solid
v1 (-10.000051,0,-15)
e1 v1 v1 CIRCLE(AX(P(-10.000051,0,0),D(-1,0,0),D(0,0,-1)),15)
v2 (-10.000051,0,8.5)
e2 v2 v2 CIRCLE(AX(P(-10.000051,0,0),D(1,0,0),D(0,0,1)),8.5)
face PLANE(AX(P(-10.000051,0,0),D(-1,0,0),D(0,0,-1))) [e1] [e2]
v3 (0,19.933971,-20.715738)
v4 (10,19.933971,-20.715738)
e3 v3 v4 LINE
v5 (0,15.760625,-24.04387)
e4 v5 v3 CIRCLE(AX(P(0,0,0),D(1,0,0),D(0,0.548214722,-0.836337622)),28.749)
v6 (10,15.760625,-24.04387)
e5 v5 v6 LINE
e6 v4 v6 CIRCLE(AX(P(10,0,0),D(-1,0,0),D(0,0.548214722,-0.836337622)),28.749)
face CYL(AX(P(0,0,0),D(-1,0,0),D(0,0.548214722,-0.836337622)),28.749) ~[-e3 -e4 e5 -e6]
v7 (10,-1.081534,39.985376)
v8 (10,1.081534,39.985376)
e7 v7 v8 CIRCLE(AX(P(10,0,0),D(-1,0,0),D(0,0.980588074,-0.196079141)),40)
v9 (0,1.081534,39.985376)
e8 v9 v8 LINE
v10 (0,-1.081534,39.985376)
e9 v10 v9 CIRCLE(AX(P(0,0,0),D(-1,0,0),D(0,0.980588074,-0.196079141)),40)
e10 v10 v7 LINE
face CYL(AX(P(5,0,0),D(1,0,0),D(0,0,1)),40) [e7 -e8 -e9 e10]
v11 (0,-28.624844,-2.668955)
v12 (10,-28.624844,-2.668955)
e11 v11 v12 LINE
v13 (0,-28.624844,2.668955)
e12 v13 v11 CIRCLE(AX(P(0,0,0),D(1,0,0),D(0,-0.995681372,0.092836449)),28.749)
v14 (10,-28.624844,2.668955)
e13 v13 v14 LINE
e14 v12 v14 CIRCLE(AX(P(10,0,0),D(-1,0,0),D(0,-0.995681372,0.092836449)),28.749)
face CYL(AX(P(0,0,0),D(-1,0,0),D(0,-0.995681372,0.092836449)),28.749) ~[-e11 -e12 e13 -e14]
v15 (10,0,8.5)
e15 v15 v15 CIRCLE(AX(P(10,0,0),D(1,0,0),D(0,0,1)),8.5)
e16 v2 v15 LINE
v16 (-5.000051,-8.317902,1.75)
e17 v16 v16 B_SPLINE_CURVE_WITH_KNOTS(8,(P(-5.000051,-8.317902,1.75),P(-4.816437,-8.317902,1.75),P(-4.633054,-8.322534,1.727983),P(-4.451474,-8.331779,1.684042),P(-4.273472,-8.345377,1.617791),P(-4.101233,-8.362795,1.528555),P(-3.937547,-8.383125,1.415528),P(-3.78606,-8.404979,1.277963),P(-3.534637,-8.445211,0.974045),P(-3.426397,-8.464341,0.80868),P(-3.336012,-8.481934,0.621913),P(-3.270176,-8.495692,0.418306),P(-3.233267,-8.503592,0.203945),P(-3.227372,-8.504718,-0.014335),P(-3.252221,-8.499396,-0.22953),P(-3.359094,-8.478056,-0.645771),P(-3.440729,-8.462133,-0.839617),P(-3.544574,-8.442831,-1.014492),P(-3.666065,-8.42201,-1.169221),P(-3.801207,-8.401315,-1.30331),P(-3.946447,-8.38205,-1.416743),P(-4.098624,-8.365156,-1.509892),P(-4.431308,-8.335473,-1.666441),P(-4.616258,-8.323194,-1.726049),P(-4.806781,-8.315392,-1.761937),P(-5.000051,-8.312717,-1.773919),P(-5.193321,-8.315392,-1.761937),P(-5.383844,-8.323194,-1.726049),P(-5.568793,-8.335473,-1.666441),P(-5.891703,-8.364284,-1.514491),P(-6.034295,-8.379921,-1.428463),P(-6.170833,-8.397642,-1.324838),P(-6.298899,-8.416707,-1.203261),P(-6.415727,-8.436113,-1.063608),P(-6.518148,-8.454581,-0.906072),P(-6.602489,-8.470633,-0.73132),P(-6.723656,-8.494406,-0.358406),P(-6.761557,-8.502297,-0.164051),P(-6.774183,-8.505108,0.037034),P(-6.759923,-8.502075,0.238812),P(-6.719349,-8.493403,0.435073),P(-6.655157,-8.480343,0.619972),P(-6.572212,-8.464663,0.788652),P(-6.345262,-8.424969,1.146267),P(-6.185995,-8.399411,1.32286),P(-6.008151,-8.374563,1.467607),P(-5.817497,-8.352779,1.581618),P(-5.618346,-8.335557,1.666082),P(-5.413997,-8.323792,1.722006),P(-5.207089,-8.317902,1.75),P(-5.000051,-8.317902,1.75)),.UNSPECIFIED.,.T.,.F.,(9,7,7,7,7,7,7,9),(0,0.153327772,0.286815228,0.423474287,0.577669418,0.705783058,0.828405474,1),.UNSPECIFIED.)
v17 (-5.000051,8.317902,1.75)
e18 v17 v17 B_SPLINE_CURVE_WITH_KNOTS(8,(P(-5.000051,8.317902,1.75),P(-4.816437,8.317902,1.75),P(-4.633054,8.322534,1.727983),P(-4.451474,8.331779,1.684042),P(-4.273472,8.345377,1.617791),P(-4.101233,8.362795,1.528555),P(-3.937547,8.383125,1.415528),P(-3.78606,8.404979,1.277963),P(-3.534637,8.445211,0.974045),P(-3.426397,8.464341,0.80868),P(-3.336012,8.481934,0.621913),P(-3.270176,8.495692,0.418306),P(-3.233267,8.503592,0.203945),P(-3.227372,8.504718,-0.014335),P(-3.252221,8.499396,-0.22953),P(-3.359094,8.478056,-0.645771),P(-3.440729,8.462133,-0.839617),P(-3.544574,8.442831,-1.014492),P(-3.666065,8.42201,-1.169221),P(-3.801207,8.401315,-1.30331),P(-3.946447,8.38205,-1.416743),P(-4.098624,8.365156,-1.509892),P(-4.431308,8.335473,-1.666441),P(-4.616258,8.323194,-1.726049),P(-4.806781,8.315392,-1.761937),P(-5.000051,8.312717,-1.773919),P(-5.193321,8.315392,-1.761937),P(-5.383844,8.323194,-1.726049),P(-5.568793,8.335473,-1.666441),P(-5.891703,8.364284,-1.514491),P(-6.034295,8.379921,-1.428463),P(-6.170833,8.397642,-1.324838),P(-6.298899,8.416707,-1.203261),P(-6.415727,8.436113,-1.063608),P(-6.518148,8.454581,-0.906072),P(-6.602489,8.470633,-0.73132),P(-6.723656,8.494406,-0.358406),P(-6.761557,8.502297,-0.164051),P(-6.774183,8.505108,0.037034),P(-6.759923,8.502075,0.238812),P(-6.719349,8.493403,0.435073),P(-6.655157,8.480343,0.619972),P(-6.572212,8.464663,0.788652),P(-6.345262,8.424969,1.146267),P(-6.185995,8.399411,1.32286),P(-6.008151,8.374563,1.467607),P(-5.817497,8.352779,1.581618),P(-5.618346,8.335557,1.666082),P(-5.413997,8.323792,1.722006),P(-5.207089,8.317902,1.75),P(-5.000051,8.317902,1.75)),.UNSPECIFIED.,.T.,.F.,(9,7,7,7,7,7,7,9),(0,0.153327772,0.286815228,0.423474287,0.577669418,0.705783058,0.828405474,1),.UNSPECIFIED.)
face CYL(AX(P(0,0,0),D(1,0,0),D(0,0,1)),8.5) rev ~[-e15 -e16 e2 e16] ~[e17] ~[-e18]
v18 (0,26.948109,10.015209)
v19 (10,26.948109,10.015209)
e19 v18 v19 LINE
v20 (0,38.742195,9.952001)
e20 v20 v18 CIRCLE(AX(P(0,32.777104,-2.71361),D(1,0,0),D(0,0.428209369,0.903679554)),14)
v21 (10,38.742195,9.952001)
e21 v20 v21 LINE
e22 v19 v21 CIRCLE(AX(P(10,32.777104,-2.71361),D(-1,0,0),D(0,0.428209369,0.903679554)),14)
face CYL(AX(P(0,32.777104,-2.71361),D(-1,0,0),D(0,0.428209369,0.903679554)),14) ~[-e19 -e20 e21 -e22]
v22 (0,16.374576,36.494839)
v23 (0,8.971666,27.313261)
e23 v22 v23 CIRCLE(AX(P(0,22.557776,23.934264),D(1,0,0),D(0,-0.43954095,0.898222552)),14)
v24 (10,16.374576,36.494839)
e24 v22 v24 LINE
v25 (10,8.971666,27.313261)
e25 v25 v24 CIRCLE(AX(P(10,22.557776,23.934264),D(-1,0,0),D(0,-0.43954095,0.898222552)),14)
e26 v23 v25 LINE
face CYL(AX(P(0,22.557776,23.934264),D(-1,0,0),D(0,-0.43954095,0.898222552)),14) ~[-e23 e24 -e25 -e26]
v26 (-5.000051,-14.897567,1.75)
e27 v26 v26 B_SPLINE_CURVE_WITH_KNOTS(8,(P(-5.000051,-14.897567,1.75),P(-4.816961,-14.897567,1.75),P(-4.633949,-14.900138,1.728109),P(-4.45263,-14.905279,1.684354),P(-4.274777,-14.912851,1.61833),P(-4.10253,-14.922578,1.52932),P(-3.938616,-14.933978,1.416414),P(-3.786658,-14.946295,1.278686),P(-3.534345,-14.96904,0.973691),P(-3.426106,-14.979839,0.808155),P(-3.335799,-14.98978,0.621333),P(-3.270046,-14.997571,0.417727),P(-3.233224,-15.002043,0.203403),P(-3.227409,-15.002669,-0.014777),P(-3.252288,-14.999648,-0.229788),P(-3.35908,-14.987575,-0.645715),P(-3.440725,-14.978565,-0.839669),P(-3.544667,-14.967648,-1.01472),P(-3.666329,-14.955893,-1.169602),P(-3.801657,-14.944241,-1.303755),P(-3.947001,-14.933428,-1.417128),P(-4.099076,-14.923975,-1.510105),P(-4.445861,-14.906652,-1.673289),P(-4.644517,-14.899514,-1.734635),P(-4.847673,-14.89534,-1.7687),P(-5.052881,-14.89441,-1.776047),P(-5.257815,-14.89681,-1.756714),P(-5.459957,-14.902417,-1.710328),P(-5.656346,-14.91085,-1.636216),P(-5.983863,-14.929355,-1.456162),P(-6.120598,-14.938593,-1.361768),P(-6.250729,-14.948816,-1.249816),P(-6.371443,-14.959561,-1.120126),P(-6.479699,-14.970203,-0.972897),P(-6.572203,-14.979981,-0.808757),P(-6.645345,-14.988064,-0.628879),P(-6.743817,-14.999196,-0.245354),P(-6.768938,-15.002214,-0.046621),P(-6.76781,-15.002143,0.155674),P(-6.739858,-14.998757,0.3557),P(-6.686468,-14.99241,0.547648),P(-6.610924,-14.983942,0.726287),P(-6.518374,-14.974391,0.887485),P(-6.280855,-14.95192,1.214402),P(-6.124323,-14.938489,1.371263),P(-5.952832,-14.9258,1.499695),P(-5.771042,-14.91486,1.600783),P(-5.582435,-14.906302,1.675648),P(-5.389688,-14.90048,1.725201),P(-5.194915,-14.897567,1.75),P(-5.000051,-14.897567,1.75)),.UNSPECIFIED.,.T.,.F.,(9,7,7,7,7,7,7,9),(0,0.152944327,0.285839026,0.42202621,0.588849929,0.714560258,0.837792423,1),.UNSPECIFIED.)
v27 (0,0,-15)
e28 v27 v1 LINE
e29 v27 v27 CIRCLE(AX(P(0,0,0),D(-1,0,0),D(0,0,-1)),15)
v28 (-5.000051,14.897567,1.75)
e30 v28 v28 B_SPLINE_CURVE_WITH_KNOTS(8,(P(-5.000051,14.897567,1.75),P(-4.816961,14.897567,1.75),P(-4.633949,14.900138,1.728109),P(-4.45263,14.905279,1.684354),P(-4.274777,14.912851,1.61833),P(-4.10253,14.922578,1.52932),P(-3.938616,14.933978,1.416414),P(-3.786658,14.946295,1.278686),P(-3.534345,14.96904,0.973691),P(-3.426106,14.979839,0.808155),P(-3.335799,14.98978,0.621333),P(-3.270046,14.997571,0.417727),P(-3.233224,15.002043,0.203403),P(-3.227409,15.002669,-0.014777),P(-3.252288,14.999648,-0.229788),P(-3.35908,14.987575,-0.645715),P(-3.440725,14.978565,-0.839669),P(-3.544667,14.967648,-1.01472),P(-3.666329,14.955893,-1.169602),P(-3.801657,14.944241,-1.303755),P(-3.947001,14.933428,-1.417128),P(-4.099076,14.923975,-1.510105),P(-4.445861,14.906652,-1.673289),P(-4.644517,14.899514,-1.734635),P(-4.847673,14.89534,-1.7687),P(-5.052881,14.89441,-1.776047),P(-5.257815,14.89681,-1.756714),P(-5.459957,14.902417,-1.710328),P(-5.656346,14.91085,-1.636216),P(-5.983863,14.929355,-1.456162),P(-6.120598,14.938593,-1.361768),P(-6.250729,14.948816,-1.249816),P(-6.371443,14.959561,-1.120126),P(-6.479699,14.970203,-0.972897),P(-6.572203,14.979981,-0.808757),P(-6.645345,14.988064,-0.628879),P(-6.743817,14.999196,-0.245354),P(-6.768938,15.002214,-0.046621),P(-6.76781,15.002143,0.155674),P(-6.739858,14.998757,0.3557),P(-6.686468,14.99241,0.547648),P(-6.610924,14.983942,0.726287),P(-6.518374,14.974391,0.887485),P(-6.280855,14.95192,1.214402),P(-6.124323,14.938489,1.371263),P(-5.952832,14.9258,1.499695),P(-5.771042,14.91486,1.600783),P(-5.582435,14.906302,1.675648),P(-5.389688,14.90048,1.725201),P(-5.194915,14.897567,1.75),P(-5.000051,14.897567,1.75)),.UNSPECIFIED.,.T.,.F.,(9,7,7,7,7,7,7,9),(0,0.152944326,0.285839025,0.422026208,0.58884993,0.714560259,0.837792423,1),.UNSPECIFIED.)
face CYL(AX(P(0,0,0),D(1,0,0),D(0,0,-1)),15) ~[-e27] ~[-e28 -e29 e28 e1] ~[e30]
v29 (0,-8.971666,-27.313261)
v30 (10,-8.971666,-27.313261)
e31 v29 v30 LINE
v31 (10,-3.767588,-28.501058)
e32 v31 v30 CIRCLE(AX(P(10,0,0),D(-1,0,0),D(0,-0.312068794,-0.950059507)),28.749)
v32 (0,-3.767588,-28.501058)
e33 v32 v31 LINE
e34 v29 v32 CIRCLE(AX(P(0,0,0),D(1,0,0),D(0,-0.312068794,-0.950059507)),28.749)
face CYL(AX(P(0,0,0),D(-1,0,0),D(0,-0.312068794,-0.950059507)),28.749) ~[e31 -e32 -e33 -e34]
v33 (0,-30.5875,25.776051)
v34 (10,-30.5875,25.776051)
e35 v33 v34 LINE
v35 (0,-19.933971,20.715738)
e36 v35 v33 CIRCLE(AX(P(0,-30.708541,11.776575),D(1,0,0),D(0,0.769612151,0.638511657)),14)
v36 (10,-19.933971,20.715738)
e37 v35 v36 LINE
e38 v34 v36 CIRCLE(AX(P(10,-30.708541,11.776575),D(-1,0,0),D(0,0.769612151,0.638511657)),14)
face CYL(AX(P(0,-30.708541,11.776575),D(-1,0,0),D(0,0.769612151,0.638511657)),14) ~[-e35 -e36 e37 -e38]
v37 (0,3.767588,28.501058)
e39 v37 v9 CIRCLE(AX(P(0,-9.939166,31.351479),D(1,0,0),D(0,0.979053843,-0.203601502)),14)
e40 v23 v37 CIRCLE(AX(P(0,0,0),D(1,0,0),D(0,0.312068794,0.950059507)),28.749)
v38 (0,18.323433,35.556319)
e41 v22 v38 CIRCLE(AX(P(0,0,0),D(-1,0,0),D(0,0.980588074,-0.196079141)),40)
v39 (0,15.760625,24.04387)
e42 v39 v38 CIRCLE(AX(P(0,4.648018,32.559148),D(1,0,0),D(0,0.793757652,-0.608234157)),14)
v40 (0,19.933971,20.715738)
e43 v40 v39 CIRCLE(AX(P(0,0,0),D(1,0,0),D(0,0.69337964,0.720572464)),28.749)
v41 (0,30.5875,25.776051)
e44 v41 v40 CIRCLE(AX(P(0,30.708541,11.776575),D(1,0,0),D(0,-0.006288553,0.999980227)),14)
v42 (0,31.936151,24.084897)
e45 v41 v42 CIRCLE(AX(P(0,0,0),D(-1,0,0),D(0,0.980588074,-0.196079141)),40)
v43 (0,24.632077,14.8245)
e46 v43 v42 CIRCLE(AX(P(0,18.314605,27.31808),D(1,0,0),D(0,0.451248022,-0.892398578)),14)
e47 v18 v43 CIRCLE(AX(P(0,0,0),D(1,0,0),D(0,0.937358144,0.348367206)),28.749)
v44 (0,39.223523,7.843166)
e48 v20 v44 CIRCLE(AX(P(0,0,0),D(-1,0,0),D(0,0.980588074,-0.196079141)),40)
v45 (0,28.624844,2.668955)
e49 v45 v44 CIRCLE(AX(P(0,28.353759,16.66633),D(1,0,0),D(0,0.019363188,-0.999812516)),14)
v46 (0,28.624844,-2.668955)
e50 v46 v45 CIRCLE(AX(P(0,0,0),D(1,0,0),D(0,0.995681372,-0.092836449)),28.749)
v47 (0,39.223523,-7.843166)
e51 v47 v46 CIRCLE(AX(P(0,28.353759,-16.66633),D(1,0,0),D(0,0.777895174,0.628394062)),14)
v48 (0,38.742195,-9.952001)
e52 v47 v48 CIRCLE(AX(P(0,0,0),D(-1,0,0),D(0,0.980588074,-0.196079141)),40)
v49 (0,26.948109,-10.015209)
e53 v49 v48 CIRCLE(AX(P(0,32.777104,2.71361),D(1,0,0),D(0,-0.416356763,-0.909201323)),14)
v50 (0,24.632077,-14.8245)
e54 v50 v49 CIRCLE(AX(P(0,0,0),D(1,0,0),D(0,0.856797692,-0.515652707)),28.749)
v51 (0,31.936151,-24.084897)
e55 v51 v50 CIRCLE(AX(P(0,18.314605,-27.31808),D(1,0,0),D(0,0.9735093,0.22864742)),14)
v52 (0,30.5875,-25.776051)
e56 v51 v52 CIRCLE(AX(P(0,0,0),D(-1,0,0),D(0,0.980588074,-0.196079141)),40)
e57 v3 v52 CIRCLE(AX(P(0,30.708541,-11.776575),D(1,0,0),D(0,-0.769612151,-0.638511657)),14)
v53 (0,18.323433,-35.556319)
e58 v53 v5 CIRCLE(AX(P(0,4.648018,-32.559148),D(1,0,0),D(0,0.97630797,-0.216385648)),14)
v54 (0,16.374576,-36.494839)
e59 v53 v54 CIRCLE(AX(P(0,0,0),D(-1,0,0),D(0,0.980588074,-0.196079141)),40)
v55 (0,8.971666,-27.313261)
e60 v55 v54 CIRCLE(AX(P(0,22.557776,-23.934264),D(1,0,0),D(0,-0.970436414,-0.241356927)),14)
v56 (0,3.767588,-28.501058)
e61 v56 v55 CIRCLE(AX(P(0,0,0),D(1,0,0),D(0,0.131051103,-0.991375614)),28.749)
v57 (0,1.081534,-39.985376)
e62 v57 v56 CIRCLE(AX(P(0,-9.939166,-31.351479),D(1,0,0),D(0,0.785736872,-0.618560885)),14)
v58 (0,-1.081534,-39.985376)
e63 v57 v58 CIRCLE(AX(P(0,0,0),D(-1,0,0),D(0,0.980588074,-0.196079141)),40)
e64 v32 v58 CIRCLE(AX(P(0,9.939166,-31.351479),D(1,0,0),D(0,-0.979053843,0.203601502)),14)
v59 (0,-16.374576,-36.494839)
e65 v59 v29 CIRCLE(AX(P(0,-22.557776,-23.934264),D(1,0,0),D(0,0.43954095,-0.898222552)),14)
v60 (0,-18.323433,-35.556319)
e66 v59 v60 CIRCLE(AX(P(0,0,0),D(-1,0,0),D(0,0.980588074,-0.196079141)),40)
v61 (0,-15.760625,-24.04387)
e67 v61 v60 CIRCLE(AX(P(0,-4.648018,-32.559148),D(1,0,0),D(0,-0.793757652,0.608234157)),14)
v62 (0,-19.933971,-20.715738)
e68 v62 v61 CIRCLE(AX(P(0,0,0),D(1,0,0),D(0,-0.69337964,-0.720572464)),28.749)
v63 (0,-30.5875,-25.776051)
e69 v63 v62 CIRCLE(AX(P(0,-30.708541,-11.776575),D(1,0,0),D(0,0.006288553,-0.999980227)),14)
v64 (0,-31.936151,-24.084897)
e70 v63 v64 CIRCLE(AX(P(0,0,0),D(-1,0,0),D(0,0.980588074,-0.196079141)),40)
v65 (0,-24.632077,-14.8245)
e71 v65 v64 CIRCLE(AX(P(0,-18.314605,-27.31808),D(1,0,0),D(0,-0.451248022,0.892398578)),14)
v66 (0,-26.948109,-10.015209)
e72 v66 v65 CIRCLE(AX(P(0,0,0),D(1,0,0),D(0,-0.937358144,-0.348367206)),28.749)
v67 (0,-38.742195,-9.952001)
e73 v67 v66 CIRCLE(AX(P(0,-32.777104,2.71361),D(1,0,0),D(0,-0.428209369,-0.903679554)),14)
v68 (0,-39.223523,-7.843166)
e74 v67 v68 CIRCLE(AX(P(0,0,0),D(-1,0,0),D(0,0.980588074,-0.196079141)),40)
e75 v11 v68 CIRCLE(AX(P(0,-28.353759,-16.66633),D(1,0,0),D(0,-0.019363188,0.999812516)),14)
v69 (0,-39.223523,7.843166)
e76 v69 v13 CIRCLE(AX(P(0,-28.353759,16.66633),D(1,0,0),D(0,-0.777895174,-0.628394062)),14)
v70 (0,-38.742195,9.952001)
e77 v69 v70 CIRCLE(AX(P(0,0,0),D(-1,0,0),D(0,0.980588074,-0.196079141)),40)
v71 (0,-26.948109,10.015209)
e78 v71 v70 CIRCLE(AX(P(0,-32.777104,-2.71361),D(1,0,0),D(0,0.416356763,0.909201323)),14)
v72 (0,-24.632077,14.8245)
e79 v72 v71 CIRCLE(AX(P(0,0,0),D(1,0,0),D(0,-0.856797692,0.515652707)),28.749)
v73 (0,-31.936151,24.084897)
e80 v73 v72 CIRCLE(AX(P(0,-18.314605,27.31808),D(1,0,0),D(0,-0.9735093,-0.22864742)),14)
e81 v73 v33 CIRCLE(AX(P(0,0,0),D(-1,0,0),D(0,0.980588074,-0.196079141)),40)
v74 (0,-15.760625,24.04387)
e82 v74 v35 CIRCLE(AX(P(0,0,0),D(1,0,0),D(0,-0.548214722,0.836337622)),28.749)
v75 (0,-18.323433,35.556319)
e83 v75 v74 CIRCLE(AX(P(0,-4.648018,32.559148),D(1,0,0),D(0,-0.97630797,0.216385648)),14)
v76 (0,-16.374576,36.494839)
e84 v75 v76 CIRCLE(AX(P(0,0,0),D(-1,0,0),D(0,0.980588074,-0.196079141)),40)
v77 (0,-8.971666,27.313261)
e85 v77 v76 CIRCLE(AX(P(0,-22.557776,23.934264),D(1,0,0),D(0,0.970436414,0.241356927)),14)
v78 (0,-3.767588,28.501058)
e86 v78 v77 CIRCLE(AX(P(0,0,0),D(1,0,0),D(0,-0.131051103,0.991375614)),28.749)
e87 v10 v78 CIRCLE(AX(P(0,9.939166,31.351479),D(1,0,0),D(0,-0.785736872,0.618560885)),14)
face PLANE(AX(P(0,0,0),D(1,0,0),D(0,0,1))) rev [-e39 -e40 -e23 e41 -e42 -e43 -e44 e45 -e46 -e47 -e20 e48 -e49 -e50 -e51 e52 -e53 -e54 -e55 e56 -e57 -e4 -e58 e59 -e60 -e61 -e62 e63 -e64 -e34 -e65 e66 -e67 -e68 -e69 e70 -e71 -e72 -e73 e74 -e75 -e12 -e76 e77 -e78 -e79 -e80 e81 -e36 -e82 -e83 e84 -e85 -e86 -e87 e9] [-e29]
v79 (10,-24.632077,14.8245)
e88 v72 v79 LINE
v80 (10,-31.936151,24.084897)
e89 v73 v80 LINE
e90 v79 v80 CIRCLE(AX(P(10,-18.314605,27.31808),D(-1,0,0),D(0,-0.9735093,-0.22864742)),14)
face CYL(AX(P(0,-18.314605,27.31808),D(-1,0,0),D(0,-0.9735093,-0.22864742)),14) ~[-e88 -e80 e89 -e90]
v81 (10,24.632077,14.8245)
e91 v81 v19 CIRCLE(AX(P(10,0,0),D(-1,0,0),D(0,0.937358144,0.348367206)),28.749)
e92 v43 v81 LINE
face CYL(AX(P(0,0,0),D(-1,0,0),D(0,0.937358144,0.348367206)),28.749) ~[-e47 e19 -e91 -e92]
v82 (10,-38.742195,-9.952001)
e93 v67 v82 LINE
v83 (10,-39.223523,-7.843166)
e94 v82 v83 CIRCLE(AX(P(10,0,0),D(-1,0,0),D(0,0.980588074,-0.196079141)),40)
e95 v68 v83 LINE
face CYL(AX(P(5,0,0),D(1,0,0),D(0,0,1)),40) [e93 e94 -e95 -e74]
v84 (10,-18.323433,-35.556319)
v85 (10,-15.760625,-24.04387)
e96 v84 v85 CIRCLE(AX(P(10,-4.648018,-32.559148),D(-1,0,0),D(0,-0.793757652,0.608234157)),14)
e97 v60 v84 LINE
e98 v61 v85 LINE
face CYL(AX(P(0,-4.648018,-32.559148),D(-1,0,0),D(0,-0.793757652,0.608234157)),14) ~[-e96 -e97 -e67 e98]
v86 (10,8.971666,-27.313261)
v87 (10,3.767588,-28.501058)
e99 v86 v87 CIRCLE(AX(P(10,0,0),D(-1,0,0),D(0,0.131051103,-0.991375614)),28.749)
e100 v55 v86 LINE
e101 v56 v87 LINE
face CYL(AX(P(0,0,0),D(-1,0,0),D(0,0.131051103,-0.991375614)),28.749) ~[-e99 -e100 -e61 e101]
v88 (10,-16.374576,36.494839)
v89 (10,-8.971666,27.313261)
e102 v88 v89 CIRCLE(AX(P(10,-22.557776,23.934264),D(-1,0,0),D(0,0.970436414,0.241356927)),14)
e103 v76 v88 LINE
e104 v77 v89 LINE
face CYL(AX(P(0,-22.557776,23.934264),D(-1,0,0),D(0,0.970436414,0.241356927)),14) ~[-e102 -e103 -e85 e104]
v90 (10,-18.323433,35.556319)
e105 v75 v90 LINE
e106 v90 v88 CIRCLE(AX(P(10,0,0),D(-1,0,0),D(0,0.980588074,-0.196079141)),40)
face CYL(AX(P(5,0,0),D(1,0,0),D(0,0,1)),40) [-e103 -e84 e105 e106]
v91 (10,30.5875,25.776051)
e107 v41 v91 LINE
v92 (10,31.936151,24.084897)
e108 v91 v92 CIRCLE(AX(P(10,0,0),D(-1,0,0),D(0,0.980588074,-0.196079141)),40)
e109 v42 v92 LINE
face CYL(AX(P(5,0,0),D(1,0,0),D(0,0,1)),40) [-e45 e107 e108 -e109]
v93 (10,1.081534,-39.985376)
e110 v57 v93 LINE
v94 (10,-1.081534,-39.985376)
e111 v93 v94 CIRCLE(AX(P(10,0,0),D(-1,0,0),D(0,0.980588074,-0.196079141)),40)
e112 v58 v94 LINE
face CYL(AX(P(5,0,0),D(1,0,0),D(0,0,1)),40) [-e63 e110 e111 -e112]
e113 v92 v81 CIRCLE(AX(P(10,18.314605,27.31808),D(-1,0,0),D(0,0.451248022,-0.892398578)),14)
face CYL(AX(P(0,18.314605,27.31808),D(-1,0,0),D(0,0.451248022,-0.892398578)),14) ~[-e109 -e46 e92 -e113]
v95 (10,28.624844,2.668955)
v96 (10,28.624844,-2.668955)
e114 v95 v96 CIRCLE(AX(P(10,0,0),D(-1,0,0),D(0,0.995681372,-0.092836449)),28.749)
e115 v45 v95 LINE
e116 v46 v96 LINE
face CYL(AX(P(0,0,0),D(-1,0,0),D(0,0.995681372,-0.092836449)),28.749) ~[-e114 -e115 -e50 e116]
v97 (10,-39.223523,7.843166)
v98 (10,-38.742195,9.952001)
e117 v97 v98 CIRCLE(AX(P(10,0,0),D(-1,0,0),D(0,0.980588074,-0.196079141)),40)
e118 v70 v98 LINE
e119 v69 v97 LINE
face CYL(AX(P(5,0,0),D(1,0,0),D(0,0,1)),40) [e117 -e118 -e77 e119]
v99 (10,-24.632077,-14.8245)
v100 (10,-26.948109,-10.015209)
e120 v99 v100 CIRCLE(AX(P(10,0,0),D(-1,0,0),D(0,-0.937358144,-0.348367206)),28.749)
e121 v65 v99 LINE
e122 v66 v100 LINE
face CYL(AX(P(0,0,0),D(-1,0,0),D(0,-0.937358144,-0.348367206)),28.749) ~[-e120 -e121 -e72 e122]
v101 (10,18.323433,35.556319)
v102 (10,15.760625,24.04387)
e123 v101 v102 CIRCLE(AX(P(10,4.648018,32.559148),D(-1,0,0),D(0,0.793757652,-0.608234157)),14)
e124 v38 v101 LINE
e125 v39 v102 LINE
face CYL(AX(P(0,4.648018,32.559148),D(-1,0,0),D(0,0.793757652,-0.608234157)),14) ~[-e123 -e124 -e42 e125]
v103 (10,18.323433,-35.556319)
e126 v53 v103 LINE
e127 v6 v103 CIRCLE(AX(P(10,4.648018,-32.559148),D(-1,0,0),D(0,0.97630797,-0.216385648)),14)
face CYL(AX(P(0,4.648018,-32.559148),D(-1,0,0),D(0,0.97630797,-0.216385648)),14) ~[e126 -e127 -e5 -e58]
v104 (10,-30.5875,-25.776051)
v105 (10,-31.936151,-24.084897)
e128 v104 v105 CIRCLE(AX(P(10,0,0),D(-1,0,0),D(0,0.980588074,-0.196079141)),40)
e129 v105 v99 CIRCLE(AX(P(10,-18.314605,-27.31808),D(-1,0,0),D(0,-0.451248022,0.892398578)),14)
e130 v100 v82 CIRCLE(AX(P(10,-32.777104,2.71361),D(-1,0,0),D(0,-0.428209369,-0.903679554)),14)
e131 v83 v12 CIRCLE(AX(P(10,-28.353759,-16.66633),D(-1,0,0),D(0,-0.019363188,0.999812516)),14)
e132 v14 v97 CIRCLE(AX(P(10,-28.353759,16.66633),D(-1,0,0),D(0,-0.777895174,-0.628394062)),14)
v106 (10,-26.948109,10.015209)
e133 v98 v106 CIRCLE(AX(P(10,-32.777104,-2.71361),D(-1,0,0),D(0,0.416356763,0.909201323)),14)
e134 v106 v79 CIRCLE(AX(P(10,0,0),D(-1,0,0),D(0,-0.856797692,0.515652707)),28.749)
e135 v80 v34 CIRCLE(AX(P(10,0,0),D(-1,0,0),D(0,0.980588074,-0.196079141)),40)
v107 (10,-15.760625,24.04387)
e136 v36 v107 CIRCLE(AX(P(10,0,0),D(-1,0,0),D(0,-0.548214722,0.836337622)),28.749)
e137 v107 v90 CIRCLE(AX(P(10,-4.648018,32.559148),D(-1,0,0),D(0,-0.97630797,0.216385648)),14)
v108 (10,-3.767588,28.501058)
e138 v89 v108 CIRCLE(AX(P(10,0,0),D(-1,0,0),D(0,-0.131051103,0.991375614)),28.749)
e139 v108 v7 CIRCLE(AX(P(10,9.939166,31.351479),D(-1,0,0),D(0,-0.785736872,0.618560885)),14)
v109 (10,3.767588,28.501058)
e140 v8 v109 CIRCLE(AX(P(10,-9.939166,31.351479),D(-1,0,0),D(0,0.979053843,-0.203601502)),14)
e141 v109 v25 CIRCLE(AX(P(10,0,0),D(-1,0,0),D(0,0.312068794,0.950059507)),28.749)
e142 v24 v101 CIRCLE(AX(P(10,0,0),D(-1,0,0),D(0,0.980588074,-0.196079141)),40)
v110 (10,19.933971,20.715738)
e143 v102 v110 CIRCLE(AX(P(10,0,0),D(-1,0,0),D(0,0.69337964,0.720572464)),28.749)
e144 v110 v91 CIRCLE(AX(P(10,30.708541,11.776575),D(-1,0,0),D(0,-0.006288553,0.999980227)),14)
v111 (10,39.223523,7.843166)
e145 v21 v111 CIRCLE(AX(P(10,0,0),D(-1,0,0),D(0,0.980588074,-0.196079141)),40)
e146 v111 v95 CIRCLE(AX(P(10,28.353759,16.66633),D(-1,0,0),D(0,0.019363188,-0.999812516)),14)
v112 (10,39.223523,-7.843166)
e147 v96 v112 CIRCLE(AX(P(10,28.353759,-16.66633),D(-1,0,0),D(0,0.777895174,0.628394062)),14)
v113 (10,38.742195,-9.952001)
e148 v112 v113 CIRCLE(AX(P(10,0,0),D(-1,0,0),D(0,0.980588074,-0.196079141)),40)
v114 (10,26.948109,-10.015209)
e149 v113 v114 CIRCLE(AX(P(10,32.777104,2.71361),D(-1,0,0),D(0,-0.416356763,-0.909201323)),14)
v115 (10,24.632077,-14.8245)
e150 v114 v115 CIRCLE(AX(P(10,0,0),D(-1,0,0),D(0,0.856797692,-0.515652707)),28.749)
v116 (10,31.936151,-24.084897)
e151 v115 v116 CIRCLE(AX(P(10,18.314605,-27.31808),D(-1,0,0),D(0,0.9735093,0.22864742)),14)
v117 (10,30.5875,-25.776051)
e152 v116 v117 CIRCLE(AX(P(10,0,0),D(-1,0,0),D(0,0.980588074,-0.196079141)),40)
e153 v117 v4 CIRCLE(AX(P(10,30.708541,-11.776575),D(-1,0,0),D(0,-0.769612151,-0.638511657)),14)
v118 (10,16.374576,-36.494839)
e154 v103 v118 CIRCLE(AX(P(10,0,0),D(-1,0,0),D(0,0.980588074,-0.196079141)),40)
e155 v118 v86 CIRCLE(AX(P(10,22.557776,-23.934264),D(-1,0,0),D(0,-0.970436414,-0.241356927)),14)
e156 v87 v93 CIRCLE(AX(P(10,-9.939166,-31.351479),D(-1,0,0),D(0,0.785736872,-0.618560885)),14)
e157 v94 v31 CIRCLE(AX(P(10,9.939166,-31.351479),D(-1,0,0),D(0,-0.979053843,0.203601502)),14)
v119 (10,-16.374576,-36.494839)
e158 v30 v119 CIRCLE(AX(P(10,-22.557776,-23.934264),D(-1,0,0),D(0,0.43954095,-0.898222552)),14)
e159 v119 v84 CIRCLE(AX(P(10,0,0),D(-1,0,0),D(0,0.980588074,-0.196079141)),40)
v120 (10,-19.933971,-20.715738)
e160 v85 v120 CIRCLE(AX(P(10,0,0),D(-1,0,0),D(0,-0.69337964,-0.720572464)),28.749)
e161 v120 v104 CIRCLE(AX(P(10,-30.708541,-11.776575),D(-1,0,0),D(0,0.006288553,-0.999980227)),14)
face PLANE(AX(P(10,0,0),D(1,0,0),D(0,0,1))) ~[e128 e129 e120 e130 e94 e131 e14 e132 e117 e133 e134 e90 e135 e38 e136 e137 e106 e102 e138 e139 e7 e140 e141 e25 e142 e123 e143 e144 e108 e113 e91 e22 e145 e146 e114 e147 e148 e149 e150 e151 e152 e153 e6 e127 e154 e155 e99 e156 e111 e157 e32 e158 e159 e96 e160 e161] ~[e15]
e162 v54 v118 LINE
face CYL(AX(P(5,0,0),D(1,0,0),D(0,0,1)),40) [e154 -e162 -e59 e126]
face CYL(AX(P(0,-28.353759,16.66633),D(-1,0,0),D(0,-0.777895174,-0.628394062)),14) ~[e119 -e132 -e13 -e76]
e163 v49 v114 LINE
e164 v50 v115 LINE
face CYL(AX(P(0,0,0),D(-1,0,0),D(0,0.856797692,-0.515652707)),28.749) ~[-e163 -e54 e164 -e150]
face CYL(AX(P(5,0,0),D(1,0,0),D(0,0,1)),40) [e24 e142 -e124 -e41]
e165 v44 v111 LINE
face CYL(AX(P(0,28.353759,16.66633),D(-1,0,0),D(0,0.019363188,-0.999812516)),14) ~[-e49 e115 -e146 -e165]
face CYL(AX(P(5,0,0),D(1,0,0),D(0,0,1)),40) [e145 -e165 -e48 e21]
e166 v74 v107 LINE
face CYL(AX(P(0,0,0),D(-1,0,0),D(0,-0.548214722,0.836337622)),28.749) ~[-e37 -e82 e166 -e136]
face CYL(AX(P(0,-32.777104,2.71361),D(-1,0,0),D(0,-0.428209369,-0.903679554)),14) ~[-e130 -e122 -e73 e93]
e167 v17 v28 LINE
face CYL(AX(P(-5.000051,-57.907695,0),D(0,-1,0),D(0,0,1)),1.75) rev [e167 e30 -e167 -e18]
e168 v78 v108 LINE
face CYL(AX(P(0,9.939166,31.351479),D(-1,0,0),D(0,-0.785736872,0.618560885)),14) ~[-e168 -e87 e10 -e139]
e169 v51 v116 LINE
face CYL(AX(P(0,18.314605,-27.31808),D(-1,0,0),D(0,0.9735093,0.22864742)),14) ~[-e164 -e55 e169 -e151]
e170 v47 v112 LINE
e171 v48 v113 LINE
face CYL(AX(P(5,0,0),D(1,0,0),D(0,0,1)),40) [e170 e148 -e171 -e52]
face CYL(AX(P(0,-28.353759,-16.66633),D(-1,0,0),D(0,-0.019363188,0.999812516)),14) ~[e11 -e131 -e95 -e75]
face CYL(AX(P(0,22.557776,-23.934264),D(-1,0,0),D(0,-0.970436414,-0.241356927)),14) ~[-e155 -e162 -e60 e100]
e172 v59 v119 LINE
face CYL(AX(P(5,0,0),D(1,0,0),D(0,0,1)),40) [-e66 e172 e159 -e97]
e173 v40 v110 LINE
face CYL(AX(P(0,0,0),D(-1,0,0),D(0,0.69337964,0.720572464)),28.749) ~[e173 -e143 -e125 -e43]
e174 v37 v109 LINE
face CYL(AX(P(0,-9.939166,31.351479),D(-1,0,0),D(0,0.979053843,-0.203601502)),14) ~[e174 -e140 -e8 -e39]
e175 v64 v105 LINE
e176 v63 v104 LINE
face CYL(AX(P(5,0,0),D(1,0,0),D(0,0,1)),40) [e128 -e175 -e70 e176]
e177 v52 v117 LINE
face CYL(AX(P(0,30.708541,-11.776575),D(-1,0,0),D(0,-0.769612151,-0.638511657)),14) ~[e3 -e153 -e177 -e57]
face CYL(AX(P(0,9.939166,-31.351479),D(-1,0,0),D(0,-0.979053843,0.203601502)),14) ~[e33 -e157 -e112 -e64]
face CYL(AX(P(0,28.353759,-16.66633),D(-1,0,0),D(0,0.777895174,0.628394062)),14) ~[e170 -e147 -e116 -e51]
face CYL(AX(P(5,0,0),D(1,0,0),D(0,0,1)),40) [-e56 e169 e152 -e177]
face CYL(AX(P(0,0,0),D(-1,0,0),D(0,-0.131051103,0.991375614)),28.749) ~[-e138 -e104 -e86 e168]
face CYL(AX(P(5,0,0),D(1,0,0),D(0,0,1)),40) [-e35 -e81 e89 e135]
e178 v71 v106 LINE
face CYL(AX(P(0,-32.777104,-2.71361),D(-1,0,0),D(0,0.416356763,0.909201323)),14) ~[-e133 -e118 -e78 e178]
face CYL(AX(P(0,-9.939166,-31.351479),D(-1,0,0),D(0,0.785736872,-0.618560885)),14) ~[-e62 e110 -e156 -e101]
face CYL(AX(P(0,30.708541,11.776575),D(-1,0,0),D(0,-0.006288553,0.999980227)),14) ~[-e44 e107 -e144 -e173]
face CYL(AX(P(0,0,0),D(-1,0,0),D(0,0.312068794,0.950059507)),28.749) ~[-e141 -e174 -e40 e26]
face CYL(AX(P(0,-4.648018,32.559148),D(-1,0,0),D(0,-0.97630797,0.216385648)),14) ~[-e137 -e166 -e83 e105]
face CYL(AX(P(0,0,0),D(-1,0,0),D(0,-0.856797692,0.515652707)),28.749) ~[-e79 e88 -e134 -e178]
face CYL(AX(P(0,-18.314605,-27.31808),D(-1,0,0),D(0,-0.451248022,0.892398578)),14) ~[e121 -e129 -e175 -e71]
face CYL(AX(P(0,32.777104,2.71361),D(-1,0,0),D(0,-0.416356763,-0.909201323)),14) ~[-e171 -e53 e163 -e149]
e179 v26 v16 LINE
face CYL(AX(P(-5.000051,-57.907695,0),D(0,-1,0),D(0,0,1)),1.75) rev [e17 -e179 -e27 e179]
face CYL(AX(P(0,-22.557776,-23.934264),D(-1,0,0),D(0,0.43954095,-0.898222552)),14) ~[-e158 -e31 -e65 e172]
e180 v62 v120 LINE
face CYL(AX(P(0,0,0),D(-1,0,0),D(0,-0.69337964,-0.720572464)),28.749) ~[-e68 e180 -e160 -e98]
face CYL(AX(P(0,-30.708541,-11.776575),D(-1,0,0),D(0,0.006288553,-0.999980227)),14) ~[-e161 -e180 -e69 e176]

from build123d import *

# Parameters (mm, degrees)
BASPROSKE_W             = 10
BASPROSKE_H             = 40
TOOTHCUT_DEPTH          = 58.445626465
TEETHCUTS_COUNT         = 14
HUBNEAONESKE_R          = 15
HUBNEARONE_DEPTH        = 10.0000508
BORSKE_R                = 8.5
BORE_DEPTH              = 20.0000508
CUT_EXTRUDE1_DEPTH      = 57.907695162
CUT_EXTRUDE1_DEPTH_BACK = 57.907695162
SKETCH1_R               = 1.75


with BuildPart() as part:
    # BasProSke → Base-Revolve (revolve)
    with BuildSketch(Plane(origin=(0, 0, 0), x_dir=(1, 0, 0), z_dir=(0, 1, 0)), mode=Mode.PRIVATE) as base_revolve_sk:
        with Locations((5, 20)):
            Rectangle(BASPROSKE_W, BASPROSKE_H)
    revolve(base_revolve_sk.sketch.rotate(Axis((-10, 0, 0), (1, 0, 0)), 180), axis=Axis((-10, 0, 0), (1, 0, 0)))

    # TooCutSke → ToothCut (cut, through all)
    with BuildSketch(Plane(origin=(0, 0, 0), x_dir=(0, 0, -1), z_dir=(1, 0, 0))):
        with BuildLine():
            ThreePointArc((2.668955068, 28.624843752), (0, 28.749), (-2.668955068, 28.624843752))
            ThreePointArc((-2.668955068, 28.624843752), (-4.092749085, 34.510467305), (-7.86881342, 39.244291566))
            ThreePointArc((-7.86881342, 39.244291566), (0, 40.0254), (7.86881342, 39.244291566))
            ThreePointArc((7.86881342, 39.244291566), (4.092749085, 34.510467305), (2.668955068, 28.624843752))
        make_face()
    toothcut = extrude(amount=TOOTHCUT_DEPTH, mode=Mode.SUBTRACT)

    # TeethCuts: ToothCut ×14 about axis
    teethcuts_axis = Axis((0, 0, 0), (1, 0, 0))
    for i in range(1, TEETHCUTS_COUNT):
        add(toothcut.rotate(teethcuts_axis, i * 360 / TEETHCUTS_COUNT), mode=Mode.SUBTRACT)

    # HubNeaOneSke → HubNearOne (add)
    with BuildSketch(Plane.ZY):
        with Locations(Location((0, 0, 0), (0, 0, 180))):
            Circle(HUBNEAONESKE_R)
    extrude(amount=HUBNEARONE_DEPTH)

    # BorSke → Bore (cut, symmetric)
    with BuildSketch(Plane(origin=(0, 0, 0), x_dir=(0, 0, -1), z_dir=(1, 0, 0))):
        with Locations(Location((0, 0, 0), (0, 0, 180))):
            Circle(BORSKE_R)
    extrude(amount=BORE_DEPTH, both=True, mode=Mode.SUBTRACT)

    # Sketch1 → Cut-Extrude1 (cut, two sides: drawn at the far end of the back side and taken through both)
    with BuildSketch(Plane(origin=(0, 0, 0), x_dir=(1, 0, 0), z_dir=(0, 1, 0)).offset(-CUT_EXTRUDE1_DEPTH_BACK)):
        with Locations(Location((-5.0000508, 0, 0), (0, 0, 270))):
            Circle(SKETCH1_R)
    extrude(amount=CUT_EXTRUDE1_DEPTH + CUT_EXTRUDE1_DEPTH_BACK, mode=Mode.SUBTRACT)


solid = part.part
